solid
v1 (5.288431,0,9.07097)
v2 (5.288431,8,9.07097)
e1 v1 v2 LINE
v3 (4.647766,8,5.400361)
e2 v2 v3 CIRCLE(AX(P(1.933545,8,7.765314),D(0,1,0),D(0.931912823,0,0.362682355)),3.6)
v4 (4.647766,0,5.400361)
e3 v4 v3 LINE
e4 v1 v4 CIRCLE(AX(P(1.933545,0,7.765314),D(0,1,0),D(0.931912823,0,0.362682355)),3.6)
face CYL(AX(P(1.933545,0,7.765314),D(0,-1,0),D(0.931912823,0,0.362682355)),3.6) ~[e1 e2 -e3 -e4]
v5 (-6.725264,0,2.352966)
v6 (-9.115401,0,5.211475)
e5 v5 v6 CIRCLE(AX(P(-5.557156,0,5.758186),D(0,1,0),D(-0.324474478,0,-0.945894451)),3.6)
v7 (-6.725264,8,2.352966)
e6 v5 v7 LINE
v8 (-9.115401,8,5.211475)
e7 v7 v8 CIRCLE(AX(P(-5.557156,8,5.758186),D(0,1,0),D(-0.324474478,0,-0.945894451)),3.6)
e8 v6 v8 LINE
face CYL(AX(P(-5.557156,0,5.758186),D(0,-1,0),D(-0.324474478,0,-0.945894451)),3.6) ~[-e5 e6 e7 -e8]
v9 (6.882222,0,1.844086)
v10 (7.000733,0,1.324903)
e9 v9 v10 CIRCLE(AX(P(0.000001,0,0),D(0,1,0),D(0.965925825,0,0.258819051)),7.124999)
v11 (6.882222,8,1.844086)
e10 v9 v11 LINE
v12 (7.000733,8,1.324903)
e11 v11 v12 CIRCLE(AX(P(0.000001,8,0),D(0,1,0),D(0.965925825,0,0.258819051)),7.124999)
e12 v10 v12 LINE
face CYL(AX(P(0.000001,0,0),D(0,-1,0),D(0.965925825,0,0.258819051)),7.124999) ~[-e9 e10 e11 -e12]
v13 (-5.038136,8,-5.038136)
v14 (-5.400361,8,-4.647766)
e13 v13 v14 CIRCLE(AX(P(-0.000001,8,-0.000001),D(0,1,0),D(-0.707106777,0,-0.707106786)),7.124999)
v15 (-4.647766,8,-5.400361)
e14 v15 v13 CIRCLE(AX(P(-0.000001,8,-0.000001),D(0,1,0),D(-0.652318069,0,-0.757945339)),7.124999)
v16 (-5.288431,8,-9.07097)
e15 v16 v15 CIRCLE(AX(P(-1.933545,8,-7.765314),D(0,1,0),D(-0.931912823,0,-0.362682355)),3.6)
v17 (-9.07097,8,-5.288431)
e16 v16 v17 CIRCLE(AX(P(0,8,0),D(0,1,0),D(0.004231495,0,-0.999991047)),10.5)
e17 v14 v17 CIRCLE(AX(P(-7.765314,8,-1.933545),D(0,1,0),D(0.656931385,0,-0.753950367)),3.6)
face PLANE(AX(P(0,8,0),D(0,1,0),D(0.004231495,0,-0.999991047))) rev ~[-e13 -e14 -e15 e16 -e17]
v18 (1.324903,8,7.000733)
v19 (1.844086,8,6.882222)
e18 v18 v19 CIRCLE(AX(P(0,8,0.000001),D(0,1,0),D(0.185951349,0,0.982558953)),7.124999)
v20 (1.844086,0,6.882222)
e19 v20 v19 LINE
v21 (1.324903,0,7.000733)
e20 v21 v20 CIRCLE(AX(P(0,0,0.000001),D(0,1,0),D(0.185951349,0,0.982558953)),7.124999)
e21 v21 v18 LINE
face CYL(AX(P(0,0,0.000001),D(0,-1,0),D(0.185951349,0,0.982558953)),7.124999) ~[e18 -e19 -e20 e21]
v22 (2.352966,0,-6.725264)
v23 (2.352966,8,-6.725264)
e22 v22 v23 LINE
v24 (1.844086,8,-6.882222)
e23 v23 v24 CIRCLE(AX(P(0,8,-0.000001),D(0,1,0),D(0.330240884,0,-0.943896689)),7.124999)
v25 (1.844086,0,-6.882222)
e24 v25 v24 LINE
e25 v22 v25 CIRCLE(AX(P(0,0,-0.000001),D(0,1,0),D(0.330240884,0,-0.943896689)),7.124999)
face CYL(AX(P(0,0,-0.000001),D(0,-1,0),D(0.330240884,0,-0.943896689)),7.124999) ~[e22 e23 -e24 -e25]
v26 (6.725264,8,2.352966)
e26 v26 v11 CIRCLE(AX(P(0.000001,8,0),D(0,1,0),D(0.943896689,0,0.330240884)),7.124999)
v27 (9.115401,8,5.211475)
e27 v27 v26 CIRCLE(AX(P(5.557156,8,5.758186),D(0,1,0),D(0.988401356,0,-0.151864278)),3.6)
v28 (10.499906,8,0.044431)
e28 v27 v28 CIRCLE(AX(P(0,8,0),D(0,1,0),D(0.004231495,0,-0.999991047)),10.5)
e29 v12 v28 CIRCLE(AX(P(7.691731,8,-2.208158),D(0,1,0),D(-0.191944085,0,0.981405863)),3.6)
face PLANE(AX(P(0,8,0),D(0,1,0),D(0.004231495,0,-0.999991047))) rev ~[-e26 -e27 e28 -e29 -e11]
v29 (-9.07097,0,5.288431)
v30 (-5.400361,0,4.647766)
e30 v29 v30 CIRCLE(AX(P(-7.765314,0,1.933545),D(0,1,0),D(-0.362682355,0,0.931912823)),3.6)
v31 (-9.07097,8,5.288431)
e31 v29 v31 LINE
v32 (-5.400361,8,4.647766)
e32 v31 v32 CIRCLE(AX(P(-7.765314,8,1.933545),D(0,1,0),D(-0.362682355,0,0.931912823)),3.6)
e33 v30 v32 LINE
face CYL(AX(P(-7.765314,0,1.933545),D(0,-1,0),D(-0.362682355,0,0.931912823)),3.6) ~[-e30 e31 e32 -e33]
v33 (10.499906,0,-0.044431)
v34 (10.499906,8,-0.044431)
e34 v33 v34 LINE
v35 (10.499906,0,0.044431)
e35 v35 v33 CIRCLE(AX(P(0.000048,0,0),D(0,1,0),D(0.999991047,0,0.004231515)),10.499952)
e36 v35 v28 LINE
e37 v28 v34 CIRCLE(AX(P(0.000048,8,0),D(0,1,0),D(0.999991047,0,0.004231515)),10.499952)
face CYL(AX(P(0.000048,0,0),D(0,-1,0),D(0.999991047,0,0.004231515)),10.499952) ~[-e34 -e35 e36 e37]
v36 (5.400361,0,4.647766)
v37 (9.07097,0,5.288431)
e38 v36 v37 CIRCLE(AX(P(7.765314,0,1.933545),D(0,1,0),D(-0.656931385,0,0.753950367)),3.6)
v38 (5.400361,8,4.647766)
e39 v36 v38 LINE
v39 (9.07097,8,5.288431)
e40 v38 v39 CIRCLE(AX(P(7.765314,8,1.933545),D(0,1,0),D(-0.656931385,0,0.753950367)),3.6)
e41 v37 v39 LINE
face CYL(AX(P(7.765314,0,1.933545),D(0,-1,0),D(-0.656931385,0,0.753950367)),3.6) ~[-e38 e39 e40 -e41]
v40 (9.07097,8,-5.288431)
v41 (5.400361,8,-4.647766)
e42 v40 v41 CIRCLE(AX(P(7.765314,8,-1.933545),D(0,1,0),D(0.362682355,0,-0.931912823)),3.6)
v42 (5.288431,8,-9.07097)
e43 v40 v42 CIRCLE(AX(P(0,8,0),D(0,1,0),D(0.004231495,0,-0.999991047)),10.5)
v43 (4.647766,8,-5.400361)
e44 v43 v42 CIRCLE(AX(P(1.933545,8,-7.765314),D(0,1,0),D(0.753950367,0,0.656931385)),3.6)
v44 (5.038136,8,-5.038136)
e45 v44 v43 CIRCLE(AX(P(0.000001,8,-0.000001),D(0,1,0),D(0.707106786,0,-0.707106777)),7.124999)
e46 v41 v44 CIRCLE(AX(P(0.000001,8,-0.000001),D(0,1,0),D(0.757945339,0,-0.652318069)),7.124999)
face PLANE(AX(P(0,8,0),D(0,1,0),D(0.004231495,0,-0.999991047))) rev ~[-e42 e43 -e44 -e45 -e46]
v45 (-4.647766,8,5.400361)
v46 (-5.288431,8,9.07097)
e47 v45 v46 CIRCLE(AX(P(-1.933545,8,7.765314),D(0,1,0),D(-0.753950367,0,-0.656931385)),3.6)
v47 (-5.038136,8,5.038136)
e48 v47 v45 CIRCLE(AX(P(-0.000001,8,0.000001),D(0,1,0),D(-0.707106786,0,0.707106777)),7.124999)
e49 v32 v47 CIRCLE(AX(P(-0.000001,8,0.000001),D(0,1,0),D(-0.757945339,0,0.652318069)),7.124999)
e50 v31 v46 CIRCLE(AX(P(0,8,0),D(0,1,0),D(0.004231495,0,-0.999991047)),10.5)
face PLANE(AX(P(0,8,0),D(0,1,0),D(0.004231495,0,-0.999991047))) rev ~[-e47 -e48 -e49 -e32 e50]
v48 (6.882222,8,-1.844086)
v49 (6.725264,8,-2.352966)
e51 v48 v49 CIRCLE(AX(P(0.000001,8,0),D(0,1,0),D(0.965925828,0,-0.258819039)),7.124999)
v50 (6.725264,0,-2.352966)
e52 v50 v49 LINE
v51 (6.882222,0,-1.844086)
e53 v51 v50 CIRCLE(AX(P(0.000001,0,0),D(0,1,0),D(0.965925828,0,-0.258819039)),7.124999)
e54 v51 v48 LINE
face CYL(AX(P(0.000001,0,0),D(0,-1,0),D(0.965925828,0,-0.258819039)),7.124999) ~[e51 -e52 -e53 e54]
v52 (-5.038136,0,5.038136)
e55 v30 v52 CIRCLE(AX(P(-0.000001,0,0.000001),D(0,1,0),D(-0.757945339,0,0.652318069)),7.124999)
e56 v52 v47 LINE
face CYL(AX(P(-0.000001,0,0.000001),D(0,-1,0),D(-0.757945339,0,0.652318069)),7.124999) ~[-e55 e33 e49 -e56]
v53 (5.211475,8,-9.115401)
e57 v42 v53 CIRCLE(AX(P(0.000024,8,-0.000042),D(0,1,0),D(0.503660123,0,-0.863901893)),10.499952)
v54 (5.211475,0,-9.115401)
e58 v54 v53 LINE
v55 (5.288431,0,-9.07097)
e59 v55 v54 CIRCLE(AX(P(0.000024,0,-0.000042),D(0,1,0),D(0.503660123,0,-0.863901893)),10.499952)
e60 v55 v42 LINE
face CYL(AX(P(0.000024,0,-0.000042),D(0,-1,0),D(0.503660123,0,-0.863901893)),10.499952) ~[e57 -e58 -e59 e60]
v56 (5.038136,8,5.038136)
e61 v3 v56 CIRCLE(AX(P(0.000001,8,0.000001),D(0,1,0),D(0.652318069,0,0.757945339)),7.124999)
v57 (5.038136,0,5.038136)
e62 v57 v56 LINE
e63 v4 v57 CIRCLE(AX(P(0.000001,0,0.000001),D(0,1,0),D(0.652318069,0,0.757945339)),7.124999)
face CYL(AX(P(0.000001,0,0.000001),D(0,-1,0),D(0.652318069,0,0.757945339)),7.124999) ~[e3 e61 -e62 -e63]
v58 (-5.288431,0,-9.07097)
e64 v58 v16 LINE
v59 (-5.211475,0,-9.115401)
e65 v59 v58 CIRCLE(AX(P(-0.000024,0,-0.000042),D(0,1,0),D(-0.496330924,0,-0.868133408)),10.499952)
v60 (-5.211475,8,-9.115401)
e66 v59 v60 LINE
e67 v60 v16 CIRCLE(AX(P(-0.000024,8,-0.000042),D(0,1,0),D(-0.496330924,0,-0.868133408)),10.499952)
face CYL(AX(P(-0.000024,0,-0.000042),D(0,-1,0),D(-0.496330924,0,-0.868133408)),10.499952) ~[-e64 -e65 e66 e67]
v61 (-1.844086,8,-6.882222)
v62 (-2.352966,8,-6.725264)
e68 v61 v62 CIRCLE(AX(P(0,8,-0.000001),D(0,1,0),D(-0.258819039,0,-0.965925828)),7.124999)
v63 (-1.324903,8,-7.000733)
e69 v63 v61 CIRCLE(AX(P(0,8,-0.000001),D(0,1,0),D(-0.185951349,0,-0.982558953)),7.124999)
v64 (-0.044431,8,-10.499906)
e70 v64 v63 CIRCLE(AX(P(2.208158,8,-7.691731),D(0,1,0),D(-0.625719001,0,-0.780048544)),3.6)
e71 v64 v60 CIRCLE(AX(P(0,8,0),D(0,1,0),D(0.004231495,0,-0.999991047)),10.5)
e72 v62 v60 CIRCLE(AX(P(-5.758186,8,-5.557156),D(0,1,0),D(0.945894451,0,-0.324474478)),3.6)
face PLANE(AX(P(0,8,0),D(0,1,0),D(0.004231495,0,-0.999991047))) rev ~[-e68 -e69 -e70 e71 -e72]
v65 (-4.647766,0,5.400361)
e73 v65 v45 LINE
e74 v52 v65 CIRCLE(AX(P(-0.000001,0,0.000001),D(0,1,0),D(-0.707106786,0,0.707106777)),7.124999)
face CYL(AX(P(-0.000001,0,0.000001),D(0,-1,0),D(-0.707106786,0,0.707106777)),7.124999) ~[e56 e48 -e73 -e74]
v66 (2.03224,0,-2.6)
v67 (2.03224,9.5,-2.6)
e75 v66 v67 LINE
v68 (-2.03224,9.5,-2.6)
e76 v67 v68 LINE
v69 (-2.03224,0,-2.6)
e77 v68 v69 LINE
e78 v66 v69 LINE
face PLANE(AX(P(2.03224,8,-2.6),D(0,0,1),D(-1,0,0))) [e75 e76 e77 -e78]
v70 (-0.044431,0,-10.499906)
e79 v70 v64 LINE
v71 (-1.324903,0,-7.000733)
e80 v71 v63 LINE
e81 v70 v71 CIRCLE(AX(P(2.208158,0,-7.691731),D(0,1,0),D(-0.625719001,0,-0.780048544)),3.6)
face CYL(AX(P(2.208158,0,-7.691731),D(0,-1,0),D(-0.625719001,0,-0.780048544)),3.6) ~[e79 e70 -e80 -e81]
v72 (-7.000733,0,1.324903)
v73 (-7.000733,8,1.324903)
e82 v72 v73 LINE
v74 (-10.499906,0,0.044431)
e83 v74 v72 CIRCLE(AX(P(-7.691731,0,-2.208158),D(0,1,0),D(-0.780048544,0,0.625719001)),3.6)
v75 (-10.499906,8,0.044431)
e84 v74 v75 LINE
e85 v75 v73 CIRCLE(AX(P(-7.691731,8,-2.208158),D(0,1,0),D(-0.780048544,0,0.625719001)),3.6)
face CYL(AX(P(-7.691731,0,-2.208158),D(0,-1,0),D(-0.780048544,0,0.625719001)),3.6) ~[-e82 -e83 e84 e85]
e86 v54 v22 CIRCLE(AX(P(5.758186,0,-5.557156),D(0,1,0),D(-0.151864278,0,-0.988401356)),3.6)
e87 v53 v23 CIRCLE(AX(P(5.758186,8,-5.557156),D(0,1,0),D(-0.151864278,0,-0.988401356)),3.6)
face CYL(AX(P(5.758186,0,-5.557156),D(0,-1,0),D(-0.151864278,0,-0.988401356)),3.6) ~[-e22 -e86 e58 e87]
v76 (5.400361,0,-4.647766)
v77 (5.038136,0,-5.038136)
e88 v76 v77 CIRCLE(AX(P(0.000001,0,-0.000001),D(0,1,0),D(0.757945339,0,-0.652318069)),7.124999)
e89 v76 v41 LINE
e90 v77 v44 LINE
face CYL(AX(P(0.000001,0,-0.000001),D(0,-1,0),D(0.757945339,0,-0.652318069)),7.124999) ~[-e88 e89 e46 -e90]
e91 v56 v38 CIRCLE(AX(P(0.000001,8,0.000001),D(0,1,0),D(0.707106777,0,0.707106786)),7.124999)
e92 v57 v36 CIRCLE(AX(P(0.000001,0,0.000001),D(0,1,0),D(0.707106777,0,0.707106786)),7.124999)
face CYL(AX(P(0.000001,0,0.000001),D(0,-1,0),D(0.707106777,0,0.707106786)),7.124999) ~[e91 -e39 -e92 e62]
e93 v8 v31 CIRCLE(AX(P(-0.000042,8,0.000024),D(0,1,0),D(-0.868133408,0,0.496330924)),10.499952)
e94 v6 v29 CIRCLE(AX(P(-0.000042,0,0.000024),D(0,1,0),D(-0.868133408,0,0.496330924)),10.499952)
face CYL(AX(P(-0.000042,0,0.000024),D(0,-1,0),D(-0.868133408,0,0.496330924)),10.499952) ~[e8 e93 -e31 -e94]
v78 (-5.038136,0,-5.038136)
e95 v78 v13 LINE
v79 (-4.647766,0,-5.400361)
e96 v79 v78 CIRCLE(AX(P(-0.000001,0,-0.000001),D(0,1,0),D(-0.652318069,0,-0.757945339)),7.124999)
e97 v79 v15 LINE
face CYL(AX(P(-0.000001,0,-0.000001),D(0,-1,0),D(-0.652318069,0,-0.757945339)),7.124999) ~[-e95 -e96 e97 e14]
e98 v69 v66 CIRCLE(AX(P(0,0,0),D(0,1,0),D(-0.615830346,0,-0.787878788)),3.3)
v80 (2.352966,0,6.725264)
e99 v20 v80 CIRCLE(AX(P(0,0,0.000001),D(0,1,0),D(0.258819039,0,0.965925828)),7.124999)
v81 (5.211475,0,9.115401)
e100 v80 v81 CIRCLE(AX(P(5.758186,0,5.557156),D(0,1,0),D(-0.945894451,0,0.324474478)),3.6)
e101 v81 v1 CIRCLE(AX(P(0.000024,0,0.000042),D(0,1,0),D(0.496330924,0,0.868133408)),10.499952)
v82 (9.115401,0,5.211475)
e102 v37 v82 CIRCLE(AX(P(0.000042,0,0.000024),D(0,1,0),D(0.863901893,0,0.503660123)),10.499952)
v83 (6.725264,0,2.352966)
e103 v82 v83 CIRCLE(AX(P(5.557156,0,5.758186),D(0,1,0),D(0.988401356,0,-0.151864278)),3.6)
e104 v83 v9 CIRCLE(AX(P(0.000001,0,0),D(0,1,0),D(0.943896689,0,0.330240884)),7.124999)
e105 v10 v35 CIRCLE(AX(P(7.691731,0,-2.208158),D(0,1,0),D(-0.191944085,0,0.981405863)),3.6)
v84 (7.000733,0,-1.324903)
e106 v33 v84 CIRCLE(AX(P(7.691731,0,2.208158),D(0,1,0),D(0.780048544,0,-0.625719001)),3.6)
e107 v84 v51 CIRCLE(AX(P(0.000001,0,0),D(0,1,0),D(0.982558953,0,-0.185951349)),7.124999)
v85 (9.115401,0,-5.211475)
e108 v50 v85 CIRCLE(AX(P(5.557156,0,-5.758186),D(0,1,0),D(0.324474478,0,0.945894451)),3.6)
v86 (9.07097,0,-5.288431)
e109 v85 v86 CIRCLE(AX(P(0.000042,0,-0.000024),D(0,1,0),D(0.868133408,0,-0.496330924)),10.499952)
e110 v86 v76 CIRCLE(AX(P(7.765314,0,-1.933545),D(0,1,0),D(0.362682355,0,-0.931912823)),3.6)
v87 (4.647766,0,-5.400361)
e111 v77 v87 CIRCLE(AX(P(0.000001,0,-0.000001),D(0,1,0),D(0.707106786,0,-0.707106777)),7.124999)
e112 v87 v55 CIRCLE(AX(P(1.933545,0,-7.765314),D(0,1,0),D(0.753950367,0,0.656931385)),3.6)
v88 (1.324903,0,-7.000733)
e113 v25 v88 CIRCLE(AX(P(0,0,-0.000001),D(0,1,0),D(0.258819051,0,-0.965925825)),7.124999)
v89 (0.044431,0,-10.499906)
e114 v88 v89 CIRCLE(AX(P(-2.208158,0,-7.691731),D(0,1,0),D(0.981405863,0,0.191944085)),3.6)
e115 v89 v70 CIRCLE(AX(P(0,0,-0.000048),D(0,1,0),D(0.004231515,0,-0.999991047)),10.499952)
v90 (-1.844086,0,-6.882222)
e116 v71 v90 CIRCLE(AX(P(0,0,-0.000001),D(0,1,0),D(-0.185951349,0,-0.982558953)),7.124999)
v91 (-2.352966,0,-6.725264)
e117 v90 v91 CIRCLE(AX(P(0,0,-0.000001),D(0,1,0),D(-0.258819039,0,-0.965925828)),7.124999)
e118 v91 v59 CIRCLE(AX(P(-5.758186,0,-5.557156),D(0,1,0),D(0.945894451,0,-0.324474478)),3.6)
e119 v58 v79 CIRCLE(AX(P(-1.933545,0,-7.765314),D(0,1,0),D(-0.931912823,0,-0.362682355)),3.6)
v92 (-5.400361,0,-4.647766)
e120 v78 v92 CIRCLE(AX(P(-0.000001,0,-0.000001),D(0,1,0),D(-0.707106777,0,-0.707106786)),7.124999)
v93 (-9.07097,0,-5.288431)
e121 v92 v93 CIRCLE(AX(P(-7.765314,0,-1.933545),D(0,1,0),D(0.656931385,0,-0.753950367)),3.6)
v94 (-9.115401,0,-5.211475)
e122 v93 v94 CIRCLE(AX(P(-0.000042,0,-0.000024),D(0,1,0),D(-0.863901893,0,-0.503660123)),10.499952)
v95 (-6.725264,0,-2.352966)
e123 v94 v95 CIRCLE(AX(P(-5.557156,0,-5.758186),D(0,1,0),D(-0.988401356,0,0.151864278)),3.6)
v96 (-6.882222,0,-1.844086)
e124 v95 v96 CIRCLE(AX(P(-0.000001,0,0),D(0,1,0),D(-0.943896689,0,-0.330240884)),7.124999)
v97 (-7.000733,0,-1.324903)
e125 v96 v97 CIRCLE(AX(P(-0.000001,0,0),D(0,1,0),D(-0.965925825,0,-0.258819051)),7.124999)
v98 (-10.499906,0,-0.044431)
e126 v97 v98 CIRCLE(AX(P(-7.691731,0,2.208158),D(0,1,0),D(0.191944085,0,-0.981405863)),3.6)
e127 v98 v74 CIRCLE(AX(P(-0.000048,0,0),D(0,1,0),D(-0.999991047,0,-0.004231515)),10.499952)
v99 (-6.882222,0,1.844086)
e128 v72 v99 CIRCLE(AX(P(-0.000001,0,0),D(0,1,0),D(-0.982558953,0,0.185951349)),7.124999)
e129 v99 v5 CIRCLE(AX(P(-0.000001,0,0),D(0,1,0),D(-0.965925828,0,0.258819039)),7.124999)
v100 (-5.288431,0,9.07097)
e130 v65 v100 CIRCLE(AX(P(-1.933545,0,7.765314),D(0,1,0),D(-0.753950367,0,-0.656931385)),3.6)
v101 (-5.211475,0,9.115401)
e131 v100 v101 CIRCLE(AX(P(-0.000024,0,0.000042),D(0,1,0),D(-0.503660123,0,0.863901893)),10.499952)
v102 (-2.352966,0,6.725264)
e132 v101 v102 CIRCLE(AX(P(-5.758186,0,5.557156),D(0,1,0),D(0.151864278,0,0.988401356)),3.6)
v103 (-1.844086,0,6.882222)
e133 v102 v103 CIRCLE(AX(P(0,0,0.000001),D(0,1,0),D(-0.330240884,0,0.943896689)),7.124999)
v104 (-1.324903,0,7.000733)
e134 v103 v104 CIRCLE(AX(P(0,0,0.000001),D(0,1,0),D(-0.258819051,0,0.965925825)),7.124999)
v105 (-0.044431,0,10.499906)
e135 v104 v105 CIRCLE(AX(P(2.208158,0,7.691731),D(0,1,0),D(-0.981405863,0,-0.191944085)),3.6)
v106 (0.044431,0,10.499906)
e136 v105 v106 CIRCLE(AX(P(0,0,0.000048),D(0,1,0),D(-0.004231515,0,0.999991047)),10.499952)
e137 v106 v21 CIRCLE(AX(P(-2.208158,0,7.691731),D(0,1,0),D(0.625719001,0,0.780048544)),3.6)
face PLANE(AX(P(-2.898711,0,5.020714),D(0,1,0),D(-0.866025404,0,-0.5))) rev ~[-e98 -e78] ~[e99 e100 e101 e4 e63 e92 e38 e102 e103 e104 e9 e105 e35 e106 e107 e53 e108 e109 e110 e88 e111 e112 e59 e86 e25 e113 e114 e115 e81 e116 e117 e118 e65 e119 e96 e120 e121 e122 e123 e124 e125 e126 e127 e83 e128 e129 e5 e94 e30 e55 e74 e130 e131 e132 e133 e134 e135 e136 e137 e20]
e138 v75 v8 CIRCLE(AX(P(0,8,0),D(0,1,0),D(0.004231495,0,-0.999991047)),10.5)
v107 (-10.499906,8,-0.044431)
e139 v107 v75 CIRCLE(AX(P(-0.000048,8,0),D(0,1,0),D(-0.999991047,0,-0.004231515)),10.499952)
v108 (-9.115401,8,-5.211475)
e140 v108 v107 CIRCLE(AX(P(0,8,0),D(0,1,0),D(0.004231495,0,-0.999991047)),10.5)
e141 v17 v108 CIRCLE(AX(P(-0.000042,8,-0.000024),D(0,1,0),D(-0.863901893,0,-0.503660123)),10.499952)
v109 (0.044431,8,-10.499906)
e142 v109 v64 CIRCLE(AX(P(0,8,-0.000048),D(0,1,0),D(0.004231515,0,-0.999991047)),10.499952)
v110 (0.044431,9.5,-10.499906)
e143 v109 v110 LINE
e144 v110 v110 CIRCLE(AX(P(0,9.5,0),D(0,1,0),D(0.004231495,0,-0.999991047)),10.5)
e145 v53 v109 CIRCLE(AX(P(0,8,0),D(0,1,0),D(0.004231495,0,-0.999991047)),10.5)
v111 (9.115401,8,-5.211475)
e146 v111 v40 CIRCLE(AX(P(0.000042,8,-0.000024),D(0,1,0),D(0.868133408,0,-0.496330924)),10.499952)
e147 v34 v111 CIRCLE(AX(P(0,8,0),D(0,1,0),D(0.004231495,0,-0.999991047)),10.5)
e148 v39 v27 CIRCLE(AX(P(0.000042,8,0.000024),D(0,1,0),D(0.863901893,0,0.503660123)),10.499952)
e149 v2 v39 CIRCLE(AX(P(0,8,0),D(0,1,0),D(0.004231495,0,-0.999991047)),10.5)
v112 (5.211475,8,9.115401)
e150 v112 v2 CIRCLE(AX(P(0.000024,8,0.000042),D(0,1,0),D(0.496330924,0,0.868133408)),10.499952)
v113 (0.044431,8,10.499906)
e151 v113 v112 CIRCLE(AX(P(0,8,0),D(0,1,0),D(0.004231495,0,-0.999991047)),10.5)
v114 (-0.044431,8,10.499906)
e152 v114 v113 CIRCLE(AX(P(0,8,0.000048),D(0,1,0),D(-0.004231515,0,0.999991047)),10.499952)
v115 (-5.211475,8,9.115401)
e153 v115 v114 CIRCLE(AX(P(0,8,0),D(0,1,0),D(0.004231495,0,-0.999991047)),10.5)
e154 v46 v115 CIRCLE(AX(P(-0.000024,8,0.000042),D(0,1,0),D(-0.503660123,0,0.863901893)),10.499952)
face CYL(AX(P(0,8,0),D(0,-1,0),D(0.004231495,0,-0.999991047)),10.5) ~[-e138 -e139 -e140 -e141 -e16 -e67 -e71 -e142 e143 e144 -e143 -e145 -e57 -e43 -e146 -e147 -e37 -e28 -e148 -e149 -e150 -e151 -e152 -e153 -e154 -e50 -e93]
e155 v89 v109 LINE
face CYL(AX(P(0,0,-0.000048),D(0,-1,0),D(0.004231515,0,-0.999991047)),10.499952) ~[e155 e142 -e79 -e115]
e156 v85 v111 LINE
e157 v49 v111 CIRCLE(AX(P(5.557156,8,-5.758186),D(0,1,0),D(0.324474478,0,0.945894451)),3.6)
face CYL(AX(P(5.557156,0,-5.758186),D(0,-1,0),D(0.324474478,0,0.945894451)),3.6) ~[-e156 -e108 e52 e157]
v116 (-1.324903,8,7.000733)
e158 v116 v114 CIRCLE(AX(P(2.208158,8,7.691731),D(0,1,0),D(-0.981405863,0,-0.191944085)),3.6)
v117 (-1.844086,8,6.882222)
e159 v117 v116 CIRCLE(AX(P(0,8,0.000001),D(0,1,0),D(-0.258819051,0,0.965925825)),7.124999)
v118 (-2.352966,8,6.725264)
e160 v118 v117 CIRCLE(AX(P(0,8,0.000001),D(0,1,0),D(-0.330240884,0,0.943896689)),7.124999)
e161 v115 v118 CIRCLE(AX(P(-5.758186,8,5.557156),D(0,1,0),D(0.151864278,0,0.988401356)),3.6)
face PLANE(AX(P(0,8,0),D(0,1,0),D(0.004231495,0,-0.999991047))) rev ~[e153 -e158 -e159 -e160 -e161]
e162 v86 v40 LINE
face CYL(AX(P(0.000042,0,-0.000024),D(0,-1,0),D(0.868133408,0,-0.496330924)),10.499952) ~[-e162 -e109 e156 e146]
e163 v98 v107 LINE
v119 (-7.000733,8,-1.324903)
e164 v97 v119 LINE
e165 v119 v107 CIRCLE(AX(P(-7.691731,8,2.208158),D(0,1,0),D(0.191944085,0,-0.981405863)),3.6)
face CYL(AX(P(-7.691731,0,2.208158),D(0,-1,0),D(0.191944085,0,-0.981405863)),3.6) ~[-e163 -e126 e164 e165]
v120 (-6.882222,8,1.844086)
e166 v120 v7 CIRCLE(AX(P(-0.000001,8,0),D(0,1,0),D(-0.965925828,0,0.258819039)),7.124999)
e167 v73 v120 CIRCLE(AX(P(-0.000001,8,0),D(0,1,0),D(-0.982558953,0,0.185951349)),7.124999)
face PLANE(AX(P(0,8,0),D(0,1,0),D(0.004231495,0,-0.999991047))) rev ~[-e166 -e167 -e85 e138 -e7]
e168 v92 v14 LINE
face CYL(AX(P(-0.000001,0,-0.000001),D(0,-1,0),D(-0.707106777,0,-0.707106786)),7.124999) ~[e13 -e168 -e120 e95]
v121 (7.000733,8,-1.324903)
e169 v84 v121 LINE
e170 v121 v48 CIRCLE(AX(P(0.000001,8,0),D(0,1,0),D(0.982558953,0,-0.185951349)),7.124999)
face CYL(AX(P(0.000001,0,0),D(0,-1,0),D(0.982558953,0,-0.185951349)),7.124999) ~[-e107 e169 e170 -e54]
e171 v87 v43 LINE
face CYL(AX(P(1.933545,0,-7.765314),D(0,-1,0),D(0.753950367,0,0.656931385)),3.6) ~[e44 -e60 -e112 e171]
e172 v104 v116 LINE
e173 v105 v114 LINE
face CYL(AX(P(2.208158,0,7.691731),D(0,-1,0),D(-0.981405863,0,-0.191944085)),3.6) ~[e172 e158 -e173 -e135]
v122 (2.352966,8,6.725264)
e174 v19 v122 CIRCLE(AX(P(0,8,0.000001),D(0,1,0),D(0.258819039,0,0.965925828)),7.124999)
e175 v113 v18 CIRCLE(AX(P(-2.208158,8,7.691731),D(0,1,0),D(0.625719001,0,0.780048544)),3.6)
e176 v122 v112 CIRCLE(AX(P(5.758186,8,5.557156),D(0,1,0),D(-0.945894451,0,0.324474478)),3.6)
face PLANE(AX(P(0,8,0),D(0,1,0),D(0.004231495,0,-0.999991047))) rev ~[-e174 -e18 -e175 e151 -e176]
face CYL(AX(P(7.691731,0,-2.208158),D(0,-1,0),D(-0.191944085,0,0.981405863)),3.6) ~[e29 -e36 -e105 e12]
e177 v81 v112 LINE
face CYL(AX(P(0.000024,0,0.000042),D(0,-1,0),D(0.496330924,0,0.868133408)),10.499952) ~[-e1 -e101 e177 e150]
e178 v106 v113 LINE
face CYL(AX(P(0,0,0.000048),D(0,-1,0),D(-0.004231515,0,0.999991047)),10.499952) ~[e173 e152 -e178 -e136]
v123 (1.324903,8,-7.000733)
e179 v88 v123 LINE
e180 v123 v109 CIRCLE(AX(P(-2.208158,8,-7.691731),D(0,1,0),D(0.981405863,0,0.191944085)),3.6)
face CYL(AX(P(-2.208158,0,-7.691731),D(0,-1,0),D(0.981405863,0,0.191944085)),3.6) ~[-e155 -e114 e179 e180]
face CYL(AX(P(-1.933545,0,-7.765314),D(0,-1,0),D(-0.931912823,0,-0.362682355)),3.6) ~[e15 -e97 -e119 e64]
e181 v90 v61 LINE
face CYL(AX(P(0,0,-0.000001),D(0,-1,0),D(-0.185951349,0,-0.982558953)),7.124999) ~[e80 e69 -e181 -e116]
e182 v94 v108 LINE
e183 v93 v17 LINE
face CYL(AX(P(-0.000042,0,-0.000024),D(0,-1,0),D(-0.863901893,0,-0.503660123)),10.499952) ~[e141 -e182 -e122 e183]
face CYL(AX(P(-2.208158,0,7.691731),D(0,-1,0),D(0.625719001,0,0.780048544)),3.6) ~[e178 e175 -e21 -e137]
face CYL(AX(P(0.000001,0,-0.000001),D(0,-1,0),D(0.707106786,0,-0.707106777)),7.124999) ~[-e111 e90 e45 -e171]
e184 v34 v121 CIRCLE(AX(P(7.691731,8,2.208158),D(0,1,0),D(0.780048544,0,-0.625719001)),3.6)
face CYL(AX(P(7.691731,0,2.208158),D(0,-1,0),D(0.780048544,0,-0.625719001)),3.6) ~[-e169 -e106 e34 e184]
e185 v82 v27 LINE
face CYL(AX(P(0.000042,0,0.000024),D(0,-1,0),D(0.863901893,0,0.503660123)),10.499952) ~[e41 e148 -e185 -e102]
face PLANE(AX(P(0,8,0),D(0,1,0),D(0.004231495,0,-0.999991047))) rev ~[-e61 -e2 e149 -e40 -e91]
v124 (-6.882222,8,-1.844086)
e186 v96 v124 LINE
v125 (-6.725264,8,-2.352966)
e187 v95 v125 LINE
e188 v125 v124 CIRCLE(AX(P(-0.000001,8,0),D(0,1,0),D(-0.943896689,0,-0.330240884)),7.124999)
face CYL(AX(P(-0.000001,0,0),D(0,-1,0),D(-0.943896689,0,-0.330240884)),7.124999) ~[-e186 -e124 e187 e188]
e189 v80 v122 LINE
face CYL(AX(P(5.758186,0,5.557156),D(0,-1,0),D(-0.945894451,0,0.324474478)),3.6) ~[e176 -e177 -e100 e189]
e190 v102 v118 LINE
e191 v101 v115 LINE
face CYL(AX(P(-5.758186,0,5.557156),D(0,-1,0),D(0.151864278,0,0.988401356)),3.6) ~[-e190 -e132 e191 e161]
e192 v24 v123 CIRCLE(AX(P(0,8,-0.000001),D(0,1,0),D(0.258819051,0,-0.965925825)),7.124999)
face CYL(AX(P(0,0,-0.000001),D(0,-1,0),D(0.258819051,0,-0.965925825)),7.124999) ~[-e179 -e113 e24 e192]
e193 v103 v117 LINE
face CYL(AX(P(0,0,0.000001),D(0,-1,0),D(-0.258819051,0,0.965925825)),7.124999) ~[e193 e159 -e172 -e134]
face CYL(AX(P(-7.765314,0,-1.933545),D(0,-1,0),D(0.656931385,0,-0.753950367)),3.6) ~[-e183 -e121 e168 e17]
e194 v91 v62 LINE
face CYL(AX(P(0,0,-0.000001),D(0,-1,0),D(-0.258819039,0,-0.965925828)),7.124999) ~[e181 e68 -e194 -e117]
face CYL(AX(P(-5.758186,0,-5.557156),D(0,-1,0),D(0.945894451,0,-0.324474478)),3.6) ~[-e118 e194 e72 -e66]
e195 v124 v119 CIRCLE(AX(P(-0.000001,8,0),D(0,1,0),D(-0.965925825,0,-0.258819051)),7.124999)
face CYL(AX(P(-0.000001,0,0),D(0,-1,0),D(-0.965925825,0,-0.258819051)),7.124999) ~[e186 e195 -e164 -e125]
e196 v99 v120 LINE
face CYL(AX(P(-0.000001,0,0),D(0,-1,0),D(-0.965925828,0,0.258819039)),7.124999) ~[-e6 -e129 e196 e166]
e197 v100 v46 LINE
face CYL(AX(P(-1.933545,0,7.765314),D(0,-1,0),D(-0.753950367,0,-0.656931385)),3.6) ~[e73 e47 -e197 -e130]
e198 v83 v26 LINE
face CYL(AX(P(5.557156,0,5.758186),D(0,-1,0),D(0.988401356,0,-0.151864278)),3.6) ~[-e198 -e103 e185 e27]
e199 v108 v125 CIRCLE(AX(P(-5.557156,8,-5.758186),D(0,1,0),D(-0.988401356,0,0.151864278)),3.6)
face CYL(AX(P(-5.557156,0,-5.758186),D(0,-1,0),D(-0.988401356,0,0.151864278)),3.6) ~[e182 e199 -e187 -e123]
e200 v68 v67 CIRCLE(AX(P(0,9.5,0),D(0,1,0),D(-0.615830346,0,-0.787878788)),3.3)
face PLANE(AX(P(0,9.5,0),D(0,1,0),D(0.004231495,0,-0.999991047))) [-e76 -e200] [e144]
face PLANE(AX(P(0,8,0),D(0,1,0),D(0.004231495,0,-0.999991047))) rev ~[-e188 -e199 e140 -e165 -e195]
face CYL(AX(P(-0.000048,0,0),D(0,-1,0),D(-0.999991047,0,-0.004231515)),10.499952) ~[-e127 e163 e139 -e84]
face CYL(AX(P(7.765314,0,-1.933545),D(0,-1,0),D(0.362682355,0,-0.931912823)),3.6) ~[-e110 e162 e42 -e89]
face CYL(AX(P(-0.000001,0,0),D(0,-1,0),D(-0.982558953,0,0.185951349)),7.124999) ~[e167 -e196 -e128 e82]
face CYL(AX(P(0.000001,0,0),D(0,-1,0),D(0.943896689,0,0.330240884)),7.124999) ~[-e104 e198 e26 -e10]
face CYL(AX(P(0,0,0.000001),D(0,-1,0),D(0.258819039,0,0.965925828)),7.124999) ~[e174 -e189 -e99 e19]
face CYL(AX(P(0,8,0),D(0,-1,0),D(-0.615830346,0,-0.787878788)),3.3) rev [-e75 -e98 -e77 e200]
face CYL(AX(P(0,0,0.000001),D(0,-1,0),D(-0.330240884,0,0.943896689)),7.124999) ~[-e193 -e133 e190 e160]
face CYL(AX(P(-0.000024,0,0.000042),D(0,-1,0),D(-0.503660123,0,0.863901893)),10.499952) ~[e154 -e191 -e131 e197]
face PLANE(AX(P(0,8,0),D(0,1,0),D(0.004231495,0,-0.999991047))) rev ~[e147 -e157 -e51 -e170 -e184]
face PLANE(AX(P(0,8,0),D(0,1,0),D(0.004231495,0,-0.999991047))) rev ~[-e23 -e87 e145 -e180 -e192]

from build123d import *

# Parameters (mm, degrees)
BOSS_EXTRUDE2_DEPTH = 8
CIRPATTERN4_COUNT   = 12
CUT_EXTRUDE1_DEPTH  = 17.867127793
SKETCH8_R           = 10.5
BOSS_EXTRUDE3_DEPTH = 1.5


with BuildPart() as part:
    # Sketch6 → Boss-Extrude2 (new body)
    with BuildSketch(Plane(origin=(0, 0, 0), x_dir=(-1, 0, 0), z_dir=(0, 1, 0))):
        with BuildLine():
            Line((-1.844085696, 6.882221512), (-0.258819045, 0.965925826))
            ThreePointArc((-0.258819045, 0.965925826), (0, 1), (0.258819045, 0.965925826))
            Line((0.258819045, 0.965925826), (1.844085696, 6.882221512))
            ThreePointArc((1.844085696, 6.882221512), (1.585602155, 6.946329305), (1.324903403, 7.000732531))
            ThreePointArc((1.324903403, 7.000732531), (1.172594993, 8.928869546), (0.0444307, 10.499905995))
            ThreePointArc((0.0444307, 10.499905995), (0, 10.5), (-0.0444307, 10.499905995))
            ThreePointArc((-0.0444307, 10.499905995), (-1.172594993, 8.928869546), (-1.324903403, 7.000732531))
            ThreePointArc((-1.324903403, 7.000732531), (-1.585602155, 6.946329305), (-1.844085696, 6.882221512))
        make_face()
    boss_extrude2 = extrude(amount=BOSS_EXTRUDE2_DEPTH)

    # CirPattern4: Boss-Extrude2 ×12 about axis
    cirpattern4_axis = Axis((0, 20.85, 0), (0, -1, 0))
    for i in range(1, CIRPATTERN4_COUNT):
        add(boss_extrude2.rotate(cirpattern4_axis, i * 360 / CIRPATTERN4_COUNT))

    # Sketch7 → Cut-Extrude1 (cut, through all)
    with BuildSketch(Plane(origin=(0, 8, 0), x_dir=(1, 0, 0), z_dir=(0, 1, 0))):
        with BuildLine():
            Line((2.032240143, 2.6), (-2.032240143, 2.6))
            ThreePointArc((-2.032240143, 2.6), (0, -3.3), (2.032240143, 2.6))
        make_face()
    extrude(amount=-CUT_EXTRUDE1_DEPTH, mode=Mode.SUBTRACT)

    # Sketch8 → Boss-Extrude3 (add)
    with BuildSketch(Plane(origin=(0, 8, 0), x_dir=(1, 0, 0), z_dir=(0, 1, 0))):
        Circle(SKETCH8_R)
        with BuildLine():
            Line((2.032240143, 2.6), (-2.032240143, 2.6))
            ThreePointArc((-2.032240143, 2.6), (0, -3.3), (2.032240143, 2.6))
        make_face(mode=Mode.SUBTRACT)
    extrude(amount=BOSS_EXTRUDE3_DEPTH)


solid = part.part
